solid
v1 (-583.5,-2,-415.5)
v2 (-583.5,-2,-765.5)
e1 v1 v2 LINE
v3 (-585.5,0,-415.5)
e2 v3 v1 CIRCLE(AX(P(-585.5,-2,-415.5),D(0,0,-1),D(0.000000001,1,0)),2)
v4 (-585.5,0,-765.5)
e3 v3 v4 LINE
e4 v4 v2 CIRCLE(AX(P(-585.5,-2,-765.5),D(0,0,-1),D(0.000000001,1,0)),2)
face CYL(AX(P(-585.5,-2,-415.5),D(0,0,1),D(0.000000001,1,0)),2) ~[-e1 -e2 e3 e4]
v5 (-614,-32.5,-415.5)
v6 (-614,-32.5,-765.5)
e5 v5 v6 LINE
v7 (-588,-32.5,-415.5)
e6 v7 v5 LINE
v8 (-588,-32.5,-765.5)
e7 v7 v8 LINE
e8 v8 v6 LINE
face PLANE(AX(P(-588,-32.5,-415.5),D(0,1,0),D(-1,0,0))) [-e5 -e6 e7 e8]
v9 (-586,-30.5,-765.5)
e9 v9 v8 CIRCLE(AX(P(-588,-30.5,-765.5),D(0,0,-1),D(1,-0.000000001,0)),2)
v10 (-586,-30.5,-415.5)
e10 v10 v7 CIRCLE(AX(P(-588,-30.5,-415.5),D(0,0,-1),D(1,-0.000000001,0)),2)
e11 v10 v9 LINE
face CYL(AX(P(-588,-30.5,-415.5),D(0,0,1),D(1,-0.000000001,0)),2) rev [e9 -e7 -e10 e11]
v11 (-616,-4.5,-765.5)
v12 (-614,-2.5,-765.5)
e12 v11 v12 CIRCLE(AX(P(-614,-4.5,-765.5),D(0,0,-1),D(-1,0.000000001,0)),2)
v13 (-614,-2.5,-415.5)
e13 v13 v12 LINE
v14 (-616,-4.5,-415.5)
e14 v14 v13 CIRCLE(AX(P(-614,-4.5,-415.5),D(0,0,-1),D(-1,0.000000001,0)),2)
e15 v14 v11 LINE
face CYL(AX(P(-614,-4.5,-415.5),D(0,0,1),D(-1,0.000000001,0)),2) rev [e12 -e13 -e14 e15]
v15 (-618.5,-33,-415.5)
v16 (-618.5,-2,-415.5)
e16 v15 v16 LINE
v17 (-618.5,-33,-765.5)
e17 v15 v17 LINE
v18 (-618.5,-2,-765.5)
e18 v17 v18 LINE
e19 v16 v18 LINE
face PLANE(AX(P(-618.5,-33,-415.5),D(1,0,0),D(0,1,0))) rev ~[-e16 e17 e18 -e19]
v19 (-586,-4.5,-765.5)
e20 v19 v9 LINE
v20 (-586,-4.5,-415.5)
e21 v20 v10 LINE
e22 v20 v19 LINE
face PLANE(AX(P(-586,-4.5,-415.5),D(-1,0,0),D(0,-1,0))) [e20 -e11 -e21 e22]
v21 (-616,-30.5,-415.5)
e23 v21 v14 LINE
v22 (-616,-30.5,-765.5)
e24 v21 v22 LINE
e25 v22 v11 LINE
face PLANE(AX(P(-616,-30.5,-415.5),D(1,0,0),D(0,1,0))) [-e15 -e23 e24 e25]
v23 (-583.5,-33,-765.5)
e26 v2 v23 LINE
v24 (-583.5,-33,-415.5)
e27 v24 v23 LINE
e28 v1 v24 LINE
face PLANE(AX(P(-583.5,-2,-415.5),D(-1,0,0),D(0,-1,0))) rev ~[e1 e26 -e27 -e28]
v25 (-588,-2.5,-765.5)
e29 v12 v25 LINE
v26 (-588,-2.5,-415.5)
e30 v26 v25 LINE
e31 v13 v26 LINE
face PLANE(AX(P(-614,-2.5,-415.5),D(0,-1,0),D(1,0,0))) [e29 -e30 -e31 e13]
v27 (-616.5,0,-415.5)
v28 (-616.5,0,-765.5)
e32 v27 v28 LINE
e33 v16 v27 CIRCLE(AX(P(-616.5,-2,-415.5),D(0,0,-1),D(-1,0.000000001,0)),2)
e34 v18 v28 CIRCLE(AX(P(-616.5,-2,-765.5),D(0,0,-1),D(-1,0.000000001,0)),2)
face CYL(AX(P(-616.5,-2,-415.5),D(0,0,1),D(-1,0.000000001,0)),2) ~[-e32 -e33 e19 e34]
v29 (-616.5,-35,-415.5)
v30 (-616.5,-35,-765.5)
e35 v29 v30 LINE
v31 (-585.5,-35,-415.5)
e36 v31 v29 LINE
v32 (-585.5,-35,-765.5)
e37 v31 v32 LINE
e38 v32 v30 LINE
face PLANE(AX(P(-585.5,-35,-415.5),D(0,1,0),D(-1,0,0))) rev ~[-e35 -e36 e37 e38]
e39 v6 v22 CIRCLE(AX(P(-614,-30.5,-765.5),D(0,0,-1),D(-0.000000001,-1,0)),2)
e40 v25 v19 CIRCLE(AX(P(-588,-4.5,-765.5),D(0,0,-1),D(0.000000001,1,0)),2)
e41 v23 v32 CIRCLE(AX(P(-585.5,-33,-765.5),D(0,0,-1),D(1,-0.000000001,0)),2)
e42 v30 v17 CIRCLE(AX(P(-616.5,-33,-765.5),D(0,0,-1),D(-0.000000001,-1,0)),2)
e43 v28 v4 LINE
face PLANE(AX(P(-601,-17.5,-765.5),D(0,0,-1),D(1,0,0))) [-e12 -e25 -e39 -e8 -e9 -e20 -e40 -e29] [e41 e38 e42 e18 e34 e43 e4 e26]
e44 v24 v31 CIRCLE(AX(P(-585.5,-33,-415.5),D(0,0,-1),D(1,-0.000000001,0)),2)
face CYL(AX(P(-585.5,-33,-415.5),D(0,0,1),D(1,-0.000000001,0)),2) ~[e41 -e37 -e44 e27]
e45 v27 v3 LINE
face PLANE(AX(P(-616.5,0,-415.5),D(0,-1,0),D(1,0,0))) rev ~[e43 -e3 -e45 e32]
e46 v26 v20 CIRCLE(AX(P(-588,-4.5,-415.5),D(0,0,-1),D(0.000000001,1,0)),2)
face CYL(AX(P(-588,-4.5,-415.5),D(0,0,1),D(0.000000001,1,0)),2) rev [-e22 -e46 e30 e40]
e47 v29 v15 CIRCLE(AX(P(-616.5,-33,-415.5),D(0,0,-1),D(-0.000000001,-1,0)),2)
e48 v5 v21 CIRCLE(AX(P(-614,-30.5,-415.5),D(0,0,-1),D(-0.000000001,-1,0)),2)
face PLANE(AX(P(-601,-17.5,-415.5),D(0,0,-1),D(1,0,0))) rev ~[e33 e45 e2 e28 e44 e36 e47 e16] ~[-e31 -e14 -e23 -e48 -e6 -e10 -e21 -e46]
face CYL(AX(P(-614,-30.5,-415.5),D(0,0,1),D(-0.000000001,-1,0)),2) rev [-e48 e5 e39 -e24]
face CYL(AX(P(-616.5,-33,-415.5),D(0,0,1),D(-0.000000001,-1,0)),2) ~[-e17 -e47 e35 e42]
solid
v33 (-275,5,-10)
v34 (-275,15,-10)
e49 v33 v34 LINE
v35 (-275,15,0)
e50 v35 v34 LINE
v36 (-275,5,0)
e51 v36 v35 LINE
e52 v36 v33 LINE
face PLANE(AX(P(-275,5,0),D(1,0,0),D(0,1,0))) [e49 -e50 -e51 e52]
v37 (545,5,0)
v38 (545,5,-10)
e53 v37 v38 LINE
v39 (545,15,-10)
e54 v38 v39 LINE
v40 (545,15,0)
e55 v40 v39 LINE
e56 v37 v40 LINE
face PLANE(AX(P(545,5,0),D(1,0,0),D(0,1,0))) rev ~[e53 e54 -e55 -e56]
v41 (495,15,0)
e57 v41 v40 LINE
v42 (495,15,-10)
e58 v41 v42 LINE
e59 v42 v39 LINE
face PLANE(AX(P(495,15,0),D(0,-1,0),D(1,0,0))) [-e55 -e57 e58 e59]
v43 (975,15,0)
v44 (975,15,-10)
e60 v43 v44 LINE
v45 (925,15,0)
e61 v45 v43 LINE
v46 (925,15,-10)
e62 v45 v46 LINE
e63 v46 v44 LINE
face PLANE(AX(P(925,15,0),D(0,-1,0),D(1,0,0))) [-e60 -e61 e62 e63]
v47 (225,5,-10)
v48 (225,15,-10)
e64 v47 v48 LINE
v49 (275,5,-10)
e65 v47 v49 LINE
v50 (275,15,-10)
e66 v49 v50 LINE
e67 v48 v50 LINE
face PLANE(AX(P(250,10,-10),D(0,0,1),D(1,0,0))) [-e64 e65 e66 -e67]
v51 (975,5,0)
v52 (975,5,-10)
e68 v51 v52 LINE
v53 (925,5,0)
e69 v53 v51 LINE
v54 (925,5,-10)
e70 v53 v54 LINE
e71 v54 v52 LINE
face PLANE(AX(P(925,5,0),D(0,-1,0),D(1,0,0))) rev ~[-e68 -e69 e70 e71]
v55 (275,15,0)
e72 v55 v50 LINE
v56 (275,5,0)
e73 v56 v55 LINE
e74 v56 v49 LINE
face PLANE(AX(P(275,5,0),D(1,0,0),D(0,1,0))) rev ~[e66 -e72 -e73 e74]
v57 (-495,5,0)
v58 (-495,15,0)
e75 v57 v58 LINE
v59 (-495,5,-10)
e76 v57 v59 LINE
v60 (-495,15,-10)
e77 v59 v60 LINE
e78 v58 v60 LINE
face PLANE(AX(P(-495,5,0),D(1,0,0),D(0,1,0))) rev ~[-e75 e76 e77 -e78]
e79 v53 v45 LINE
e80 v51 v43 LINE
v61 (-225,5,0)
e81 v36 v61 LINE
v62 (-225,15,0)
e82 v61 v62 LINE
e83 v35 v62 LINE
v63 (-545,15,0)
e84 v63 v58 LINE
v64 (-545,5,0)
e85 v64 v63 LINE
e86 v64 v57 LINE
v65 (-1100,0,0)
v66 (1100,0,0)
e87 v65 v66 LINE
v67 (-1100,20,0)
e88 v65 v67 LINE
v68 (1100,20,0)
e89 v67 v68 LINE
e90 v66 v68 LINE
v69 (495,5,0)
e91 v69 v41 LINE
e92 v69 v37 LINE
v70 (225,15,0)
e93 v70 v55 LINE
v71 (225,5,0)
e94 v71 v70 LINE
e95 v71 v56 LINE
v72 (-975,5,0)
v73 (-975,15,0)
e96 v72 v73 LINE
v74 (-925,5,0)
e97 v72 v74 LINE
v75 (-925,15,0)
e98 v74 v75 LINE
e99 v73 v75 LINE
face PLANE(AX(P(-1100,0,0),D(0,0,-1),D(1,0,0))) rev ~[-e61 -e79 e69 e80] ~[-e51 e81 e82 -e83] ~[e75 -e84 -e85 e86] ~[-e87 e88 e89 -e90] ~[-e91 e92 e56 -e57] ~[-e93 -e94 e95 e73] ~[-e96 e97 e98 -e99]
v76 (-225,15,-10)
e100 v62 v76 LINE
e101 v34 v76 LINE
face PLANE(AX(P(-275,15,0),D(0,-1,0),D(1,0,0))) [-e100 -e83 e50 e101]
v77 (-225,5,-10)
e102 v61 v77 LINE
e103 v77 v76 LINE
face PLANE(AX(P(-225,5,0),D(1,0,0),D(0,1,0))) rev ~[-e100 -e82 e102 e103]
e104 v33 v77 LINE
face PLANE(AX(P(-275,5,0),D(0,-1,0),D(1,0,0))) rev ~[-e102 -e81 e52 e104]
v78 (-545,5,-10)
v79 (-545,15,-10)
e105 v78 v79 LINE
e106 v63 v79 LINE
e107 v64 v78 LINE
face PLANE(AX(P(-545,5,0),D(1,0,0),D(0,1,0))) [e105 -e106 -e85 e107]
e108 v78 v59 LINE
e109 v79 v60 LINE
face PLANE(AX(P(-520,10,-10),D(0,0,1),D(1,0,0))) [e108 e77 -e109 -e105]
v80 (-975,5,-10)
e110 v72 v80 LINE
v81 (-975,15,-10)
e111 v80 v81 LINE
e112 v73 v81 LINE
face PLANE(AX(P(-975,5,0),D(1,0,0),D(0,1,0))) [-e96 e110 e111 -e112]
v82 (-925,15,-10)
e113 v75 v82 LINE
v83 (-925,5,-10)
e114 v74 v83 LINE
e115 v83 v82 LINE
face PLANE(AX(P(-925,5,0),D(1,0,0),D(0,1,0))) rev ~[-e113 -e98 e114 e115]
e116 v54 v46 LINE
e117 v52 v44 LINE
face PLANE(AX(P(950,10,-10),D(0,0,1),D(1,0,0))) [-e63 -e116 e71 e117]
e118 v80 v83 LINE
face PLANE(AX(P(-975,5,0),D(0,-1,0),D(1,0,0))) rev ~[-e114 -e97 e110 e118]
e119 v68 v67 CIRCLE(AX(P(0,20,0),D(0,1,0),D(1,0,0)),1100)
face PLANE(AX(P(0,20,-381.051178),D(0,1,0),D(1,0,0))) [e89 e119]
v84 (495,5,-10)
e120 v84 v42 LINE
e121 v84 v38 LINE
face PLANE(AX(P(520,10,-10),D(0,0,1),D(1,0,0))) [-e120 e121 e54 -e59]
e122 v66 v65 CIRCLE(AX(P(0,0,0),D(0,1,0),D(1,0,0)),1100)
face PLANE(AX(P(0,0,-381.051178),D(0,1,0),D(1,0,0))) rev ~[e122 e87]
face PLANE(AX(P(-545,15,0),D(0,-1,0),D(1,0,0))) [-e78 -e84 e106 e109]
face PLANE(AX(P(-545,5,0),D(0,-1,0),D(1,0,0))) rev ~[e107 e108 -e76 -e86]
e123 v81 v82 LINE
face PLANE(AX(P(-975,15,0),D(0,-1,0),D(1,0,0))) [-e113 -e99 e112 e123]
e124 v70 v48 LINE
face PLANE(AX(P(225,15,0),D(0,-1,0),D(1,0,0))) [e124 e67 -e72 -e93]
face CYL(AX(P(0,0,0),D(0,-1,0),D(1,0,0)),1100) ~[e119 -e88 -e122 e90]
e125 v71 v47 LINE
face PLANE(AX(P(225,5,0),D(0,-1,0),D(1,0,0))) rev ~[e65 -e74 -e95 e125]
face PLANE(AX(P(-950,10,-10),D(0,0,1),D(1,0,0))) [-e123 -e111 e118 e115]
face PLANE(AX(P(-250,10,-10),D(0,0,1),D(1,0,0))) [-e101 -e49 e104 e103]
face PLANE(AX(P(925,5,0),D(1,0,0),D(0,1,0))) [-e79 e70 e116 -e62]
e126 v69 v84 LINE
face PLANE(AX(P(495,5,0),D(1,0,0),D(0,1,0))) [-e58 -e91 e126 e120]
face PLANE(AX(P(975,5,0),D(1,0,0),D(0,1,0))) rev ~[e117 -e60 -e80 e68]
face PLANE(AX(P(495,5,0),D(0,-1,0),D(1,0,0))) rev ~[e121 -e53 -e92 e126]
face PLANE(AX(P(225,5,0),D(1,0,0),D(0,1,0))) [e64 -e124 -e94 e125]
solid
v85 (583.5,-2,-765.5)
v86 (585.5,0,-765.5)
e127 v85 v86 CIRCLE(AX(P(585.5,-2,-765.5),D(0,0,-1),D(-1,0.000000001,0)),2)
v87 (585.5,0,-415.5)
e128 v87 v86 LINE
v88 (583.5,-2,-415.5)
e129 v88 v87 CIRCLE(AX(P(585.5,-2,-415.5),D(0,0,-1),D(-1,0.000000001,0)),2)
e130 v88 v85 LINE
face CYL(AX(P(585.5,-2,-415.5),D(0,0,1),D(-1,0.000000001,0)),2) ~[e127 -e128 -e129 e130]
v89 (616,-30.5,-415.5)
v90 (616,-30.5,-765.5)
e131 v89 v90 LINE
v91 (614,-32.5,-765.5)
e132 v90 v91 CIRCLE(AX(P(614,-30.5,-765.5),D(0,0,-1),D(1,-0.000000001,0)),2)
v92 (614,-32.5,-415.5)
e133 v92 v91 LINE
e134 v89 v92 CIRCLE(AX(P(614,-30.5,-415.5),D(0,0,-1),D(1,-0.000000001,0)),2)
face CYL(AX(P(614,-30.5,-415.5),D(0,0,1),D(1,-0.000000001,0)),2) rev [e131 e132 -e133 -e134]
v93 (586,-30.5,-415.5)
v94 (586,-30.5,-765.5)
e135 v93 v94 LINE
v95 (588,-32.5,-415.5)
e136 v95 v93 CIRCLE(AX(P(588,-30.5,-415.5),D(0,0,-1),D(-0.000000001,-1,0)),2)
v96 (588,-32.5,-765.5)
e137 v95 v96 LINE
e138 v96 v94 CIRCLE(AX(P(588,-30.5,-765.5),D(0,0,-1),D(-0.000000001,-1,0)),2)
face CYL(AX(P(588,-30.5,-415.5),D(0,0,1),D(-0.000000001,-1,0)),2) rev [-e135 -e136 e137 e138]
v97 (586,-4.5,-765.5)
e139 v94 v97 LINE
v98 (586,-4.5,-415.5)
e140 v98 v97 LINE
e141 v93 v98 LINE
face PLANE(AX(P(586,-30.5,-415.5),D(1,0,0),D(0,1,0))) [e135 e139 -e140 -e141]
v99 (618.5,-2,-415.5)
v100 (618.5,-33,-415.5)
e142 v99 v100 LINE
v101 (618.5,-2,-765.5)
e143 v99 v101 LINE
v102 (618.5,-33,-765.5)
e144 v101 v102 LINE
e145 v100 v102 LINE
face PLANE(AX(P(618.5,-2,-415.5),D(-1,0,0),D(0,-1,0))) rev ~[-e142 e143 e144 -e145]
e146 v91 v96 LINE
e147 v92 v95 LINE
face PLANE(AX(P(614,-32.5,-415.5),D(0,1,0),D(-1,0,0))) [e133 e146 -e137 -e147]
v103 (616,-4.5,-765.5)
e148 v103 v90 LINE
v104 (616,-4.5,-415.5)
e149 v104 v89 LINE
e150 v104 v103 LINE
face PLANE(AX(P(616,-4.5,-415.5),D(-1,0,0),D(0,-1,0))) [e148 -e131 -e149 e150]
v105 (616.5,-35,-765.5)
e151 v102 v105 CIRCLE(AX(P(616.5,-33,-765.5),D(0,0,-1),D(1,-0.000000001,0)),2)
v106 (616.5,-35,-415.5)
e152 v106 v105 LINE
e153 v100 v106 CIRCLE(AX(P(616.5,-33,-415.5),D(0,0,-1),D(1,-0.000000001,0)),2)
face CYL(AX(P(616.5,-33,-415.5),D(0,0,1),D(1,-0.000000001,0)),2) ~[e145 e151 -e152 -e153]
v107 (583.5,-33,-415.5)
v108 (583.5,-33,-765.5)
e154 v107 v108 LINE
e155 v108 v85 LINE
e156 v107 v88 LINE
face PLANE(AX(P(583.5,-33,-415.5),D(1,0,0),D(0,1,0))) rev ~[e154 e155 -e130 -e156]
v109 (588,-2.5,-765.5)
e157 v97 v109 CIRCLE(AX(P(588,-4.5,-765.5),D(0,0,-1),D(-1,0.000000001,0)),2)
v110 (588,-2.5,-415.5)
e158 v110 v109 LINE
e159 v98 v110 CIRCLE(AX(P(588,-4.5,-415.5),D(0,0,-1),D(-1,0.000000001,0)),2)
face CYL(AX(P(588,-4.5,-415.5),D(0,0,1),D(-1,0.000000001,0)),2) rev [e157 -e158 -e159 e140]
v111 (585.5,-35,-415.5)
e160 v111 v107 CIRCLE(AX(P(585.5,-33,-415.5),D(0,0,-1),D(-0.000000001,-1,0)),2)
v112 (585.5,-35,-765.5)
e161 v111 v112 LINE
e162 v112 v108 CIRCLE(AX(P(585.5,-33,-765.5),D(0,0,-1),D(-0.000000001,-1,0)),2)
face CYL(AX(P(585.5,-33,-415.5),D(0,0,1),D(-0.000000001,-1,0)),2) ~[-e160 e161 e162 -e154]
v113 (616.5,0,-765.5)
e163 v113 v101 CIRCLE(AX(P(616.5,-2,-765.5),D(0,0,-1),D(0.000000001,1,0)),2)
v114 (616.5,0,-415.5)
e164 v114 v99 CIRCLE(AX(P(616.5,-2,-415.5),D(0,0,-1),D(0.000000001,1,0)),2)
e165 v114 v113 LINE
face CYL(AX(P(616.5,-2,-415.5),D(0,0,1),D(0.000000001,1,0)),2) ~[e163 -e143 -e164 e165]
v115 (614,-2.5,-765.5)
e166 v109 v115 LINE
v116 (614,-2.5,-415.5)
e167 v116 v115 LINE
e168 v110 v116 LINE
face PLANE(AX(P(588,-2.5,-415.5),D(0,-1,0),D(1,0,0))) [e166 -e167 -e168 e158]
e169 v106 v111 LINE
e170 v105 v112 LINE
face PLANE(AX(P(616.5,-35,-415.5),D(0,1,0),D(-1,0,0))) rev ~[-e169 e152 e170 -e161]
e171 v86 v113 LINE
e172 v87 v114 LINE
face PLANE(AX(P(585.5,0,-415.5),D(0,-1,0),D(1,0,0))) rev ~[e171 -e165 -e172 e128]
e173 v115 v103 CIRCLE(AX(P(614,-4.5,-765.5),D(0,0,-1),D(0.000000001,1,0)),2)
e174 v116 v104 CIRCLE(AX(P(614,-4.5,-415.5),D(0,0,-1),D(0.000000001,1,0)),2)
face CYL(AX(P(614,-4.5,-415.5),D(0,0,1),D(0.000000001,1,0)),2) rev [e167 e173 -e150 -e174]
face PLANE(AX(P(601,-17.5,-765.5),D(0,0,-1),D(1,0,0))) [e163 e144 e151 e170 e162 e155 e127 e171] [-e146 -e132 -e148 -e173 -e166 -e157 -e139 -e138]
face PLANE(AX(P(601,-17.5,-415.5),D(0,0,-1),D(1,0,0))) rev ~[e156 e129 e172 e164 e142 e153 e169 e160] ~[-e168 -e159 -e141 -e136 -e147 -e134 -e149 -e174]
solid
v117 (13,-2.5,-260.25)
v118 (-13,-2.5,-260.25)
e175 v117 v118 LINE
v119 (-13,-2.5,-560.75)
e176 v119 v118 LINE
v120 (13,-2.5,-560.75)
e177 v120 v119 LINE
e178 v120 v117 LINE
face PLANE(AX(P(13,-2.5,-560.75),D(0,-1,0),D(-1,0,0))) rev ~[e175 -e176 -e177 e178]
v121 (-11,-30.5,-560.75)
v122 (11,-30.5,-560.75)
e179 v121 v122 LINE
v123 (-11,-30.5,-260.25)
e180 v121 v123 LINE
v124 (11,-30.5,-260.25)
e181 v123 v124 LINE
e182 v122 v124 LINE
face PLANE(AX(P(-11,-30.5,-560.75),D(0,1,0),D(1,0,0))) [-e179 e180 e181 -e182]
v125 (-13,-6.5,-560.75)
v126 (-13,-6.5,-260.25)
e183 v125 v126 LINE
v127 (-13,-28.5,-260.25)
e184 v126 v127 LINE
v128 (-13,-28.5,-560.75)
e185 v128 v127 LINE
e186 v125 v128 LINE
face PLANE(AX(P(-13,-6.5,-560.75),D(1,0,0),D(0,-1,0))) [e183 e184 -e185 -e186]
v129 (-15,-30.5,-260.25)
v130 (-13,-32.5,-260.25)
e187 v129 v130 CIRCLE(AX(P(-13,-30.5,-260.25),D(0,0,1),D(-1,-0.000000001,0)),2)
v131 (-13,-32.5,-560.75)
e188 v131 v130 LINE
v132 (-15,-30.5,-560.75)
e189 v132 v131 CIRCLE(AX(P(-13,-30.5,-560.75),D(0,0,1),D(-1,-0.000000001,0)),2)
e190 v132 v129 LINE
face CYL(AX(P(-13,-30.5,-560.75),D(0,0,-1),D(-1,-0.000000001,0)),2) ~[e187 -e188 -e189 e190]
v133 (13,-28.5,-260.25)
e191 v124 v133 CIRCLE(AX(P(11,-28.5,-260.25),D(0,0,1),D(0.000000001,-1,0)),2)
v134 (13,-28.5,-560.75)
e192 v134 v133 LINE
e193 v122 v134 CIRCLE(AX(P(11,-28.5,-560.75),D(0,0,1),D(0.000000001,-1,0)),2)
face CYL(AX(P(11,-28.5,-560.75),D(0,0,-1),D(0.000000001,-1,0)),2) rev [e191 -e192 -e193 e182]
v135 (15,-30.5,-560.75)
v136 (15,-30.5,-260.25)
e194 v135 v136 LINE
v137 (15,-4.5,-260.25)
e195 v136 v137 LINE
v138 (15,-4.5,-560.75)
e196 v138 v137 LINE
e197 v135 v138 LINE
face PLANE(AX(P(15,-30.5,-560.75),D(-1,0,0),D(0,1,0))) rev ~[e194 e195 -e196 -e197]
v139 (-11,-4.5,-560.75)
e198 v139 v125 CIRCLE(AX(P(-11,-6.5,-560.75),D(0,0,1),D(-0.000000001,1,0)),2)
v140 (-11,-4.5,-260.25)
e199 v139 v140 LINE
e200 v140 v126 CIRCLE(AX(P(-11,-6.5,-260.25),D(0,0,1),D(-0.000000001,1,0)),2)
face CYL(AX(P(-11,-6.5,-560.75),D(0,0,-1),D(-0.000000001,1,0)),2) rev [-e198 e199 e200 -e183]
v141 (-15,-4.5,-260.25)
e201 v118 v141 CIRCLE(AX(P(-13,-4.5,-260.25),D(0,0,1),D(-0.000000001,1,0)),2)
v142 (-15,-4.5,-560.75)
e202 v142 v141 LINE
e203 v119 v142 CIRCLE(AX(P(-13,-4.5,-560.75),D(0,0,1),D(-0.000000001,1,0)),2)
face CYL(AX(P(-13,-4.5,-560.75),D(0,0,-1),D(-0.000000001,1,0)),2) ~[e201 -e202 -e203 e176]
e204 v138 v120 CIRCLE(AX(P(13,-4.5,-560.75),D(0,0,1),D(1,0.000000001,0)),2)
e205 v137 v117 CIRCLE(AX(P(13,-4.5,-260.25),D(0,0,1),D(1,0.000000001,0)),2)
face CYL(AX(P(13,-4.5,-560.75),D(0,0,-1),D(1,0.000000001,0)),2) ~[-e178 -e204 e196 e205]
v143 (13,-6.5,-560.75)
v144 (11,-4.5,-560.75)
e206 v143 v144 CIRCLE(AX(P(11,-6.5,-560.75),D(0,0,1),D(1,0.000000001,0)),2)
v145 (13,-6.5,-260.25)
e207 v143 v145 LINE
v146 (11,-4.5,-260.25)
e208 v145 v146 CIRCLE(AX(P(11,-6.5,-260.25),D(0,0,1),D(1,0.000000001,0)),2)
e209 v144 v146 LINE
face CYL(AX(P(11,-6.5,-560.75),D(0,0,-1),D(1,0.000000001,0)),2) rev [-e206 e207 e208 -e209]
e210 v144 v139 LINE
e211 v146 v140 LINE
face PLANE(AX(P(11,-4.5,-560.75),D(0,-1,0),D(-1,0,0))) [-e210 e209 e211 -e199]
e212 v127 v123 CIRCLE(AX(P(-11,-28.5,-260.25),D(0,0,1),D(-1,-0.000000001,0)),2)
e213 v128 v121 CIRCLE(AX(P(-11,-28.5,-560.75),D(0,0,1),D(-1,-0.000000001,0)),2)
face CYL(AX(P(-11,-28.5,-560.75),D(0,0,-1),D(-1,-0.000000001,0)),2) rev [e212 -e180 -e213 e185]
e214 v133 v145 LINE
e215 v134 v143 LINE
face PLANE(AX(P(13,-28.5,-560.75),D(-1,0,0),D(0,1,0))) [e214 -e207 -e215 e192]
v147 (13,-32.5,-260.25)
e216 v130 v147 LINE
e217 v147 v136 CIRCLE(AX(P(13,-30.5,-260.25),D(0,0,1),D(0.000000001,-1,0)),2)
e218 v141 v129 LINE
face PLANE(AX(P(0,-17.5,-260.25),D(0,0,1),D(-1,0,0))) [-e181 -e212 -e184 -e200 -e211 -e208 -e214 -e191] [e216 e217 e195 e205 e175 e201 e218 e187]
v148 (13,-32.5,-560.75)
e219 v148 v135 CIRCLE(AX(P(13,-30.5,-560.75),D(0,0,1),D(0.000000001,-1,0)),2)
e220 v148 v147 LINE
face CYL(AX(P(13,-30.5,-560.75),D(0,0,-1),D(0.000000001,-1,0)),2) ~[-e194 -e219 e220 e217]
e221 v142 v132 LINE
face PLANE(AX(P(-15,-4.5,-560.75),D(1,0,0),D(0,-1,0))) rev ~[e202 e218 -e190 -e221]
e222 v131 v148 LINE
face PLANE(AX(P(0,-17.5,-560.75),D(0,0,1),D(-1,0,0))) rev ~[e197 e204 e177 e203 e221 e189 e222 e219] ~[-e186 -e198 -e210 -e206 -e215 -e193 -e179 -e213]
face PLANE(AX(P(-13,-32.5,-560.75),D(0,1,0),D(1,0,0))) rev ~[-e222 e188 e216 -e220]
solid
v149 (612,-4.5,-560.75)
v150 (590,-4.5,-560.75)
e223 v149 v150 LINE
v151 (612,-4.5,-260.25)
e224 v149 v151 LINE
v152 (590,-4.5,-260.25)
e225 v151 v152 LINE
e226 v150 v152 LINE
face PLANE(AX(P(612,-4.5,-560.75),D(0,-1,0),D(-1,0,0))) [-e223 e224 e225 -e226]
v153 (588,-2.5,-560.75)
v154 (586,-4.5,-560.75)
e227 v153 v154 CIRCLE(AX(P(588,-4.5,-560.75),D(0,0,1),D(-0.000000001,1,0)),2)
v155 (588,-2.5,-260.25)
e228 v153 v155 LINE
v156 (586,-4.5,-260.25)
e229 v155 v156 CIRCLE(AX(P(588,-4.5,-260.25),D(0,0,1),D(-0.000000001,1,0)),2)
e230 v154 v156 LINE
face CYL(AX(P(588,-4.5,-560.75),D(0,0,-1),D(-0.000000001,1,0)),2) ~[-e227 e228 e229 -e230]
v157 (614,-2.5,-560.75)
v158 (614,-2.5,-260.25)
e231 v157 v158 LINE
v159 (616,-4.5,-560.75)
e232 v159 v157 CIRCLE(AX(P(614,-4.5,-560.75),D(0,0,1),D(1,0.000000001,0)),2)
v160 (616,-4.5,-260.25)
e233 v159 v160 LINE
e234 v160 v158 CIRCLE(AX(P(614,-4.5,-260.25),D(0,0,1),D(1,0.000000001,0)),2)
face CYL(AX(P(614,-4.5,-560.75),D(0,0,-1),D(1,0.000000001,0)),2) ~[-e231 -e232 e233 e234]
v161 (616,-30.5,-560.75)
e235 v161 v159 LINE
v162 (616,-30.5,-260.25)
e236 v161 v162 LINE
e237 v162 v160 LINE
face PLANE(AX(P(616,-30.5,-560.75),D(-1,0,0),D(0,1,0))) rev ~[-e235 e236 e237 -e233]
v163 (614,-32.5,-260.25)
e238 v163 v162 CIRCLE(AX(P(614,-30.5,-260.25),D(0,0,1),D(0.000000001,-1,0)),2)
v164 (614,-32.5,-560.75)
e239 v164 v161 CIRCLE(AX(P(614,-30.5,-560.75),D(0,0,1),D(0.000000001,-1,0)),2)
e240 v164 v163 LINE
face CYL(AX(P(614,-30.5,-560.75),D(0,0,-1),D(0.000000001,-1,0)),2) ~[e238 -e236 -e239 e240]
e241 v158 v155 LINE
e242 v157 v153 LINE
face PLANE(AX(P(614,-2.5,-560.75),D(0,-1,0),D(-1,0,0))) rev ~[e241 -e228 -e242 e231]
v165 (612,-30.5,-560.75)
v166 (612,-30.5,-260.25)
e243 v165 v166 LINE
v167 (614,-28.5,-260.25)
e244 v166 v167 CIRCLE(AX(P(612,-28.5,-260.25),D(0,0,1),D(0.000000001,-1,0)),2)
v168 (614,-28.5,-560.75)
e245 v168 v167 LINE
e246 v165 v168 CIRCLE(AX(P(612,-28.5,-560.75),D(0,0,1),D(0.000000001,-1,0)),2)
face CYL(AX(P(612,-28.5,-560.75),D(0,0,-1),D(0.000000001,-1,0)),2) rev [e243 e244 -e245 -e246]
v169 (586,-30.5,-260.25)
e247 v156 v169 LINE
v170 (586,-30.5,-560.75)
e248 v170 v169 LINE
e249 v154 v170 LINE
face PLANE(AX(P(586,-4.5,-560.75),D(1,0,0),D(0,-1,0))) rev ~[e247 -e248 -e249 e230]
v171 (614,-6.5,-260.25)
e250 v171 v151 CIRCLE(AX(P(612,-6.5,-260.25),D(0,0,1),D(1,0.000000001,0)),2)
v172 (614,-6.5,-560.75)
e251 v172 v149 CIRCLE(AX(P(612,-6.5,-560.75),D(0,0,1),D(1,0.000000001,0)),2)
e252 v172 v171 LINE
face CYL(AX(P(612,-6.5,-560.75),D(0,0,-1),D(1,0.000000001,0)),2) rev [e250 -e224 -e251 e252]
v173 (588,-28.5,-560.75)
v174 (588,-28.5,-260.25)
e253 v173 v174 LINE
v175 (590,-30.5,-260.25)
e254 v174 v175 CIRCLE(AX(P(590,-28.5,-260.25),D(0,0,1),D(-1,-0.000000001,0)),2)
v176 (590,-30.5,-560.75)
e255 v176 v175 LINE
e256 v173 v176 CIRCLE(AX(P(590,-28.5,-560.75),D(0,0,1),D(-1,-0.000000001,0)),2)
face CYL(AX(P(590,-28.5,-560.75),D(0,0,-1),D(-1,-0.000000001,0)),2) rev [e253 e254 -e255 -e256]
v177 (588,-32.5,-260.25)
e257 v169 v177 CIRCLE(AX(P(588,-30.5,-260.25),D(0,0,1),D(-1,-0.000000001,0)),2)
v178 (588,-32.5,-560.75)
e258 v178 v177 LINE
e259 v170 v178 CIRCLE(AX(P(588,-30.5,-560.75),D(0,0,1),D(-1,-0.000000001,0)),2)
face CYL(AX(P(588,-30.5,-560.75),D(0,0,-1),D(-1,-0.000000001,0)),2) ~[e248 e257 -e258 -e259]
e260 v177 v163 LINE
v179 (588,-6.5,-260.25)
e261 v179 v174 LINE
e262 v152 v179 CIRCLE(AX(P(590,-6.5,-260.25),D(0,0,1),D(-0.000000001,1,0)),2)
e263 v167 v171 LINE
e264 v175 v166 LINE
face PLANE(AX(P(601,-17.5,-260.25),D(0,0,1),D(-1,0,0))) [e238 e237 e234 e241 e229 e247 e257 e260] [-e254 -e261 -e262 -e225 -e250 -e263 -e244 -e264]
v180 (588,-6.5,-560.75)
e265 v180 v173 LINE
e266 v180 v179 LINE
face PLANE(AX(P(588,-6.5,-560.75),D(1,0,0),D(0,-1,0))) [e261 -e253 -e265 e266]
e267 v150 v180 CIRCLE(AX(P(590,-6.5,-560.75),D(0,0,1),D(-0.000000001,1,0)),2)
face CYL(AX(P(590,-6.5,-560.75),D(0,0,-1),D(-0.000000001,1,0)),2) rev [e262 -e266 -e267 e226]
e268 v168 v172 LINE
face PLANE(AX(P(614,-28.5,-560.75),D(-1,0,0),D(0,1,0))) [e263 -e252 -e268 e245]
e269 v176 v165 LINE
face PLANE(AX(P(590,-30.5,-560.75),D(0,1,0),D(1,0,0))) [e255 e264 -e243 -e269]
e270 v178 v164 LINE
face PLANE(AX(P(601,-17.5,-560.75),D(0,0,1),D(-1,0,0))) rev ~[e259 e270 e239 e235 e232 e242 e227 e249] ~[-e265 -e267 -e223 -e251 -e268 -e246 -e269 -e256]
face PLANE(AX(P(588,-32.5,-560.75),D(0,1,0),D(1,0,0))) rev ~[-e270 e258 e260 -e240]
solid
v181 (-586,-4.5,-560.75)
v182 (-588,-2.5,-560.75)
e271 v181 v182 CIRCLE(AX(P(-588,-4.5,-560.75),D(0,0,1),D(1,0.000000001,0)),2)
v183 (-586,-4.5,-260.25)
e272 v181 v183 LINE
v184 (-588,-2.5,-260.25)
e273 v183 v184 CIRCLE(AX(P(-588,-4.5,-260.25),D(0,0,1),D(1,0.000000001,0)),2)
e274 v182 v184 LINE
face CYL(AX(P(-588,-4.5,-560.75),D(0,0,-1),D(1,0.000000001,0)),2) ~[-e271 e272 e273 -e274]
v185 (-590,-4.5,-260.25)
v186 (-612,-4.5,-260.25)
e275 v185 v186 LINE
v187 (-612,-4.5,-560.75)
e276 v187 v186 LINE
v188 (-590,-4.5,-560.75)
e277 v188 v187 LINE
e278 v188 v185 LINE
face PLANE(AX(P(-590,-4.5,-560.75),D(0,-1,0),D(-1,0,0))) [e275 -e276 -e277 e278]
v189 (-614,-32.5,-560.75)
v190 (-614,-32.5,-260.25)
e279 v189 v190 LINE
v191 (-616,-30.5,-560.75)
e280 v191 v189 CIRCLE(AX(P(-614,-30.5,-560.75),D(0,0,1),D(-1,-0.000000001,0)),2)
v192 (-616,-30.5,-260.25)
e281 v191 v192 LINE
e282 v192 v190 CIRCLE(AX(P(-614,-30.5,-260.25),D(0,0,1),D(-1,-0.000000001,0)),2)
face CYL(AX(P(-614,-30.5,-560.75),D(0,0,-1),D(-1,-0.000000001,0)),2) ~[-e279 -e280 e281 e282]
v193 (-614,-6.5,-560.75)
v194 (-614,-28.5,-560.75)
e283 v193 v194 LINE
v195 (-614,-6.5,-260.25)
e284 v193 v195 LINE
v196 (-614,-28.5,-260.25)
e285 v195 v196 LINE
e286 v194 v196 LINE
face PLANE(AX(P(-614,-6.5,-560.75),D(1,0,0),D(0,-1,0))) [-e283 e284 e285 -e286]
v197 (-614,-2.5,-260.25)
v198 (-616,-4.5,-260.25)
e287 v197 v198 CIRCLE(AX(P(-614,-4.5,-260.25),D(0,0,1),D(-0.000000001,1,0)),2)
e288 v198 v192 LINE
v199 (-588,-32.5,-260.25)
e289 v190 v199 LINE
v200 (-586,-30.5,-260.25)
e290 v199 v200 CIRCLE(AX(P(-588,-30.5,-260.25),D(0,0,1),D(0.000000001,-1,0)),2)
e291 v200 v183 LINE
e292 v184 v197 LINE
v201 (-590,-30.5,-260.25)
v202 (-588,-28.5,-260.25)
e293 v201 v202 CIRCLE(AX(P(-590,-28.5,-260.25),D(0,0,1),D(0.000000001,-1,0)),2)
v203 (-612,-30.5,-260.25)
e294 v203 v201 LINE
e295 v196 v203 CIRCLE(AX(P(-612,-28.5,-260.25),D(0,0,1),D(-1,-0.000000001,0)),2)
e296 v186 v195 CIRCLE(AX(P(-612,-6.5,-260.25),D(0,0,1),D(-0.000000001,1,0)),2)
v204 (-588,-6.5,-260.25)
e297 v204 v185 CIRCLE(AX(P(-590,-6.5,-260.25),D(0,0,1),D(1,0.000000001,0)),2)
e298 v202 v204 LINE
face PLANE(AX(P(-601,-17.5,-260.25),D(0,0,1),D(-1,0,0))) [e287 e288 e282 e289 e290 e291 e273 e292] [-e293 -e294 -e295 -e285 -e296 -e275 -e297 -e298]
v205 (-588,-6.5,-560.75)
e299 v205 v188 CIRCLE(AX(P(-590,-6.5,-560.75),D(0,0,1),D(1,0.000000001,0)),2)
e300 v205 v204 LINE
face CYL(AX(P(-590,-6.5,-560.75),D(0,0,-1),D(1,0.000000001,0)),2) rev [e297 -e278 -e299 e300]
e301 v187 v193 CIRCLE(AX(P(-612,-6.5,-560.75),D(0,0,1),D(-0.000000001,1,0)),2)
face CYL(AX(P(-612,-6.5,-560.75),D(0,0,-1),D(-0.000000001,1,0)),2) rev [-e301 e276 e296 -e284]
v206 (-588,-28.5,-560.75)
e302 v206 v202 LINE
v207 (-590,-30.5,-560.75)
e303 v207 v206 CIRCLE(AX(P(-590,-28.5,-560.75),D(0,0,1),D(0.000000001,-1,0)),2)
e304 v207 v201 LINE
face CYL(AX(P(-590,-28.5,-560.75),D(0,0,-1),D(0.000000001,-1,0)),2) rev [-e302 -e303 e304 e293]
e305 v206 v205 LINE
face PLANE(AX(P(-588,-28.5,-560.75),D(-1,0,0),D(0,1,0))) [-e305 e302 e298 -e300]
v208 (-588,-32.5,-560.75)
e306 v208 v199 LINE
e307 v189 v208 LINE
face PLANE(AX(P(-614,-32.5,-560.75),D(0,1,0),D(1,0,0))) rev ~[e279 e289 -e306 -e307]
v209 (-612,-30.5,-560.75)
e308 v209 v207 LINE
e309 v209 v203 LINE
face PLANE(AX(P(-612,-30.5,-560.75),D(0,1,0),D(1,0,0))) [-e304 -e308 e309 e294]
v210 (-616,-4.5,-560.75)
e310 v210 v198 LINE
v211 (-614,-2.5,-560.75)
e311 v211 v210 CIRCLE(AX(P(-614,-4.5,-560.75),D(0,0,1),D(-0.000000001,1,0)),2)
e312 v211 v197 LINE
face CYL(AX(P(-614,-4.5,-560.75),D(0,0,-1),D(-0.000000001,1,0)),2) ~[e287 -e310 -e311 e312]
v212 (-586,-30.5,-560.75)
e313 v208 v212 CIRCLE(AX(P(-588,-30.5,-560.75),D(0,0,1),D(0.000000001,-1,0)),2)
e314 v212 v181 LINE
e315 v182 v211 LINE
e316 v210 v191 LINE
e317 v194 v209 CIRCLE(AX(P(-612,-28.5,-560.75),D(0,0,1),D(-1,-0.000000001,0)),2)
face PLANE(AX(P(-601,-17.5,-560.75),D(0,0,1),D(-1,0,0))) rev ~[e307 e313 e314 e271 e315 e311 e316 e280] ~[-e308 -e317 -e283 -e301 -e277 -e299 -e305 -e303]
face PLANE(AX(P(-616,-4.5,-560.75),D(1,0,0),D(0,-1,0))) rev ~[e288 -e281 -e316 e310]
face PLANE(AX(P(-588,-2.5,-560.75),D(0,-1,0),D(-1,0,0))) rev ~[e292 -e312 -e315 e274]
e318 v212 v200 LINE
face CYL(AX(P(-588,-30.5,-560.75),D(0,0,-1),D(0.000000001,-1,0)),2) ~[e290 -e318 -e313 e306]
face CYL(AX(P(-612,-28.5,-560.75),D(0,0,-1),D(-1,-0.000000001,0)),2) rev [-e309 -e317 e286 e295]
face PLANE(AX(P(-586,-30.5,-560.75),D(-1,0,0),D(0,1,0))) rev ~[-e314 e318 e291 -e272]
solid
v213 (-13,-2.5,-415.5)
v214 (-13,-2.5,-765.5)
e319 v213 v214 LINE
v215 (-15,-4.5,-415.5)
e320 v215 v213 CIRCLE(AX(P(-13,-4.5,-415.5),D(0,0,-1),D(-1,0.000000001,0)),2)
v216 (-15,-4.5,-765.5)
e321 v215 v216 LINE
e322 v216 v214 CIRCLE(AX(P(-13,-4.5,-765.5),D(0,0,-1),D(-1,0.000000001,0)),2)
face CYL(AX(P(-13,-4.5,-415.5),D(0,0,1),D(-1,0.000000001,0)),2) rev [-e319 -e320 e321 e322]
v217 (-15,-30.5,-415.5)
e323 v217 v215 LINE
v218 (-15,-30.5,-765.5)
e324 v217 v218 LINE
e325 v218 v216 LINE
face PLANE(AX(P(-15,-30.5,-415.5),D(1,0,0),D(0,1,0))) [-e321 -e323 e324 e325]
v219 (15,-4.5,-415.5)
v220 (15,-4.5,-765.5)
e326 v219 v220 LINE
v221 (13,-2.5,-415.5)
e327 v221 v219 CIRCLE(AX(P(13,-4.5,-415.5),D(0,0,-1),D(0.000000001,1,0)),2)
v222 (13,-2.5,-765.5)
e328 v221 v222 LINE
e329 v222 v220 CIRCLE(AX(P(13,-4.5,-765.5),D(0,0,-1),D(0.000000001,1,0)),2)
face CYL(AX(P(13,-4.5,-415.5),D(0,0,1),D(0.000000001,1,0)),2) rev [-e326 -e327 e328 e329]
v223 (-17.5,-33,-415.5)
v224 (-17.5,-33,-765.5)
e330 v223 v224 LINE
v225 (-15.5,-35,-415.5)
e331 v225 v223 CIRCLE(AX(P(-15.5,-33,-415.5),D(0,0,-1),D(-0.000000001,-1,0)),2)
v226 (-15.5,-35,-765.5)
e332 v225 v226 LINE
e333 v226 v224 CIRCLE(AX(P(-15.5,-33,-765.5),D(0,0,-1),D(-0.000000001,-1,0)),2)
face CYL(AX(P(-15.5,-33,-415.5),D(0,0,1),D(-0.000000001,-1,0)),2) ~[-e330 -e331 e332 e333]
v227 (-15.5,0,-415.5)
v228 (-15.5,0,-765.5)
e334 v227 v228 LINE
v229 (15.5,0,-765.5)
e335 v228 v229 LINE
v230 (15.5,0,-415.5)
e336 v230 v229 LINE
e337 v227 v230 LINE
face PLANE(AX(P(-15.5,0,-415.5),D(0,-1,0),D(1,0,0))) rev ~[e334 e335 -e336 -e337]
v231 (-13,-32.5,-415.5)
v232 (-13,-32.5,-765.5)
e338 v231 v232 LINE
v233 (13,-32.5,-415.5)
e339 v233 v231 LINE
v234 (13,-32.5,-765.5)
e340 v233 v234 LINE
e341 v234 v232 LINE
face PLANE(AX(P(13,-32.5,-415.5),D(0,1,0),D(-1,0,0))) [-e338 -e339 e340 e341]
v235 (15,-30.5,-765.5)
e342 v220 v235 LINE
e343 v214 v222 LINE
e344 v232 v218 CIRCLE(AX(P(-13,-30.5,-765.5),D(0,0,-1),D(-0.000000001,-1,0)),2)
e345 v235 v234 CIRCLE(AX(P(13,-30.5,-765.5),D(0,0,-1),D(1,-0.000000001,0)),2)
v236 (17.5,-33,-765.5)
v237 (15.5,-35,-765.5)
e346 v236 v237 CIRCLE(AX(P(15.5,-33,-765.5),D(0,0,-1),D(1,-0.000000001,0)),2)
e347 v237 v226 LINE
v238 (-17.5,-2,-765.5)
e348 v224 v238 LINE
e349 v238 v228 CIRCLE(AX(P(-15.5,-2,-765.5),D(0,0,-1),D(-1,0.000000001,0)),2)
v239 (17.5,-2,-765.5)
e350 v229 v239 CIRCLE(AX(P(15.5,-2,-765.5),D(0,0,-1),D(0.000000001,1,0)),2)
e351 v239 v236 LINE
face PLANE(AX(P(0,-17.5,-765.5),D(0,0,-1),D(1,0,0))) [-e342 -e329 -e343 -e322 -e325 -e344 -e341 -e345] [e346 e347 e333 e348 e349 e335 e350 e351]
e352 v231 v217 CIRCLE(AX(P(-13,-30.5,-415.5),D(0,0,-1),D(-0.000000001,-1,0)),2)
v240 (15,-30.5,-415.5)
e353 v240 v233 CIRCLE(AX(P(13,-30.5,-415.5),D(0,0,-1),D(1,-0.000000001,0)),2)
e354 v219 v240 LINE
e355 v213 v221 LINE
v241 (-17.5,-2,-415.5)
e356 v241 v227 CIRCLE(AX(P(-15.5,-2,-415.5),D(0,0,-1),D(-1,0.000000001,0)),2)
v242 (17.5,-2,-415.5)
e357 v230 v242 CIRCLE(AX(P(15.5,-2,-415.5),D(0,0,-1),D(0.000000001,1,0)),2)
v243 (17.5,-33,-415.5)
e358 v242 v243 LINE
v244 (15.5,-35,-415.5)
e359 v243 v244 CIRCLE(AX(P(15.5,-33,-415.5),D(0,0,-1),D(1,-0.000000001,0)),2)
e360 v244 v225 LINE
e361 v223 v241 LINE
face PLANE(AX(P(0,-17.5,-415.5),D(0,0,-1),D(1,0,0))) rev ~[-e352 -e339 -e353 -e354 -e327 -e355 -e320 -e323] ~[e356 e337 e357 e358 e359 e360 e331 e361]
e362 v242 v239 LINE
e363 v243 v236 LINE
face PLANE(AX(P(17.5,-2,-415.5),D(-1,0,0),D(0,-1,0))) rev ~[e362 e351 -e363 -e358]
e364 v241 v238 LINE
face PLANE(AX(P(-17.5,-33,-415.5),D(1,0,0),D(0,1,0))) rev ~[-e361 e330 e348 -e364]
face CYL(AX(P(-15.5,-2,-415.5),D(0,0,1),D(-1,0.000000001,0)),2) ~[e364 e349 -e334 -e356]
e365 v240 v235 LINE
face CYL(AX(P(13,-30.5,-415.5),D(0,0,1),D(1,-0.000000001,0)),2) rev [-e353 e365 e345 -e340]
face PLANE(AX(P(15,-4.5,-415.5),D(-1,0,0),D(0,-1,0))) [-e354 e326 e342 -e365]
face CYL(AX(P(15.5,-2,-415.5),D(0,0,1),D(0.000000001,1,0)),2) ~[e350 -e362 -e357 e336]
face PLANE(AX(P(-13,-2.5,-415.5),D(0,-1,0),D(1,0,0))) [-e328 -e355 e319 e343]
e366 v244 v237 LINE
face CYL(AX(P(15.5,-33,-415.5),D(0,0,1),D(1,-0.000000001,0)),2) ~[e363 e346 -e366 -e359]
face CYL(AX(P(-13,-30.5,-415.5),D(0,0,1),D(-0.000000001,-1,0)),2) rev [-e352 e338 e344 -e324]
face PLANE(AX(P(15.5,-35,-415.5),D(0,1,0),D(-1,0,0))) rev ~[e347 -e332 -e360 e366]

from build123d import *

# Parameters (mm, degrees)
BOSS_EXTRU_1_DEPTH                 = 20
CUSTOM_TUBE_CARRE_30_2_1_DEPTH     = 300.5
CUSTOM_TUBE_CARRE_30_2_1_2_DEPTH   = 300.5
CUSTOM_TUBE_CARRE_30_2_1_3_DEPTH   = 300.5
CUSTOM_TUBE_CARRE_35_2_5_1_DEPTH   = 350
CUSTOM_TUBE_CARRE_35_2_5_1_2_DEPTH = 350
CUSTOM_TUBE_CARRE_35_2_5_1_3_DEPTH = 350
ESQUISSE113_W                      = 50
ESQUISSE113_H                      = 10
ENL_V_MAT_EXTRU_1_DEPTH            = 10


with BuildPart() as part:
    # Esquisse1 → Boss.-Extru.1 (new body)
    with BuildSketch(Plane(origin=(0, 0, 0), x_dir=(1, 0, 0), z_dir=(0, 1, 0))):
        with BuildLine():
            Line((-1100, 0), (1100, 0))
            ThreePointArc((1100, 0), (0, 1100), (-1100, 0))
        make_face()
    extrude(amount=BOSS_EXTRU_1_DEPTH)

    # Esquisse113 → Enlèv. mat.-Extru.1 (cut)
    with BuildSketch(Plane.XY):
        with Locations((-950, 10)):
            Rectangle(ESQUISSE113_W, ESQUISSE113_H)
        with Locations((-520, 10)):
            Rectangle(ESQUISSE113_W, ESQUISSE113_H)
        with Locations((-250, 10)):
            Rectangle(ESQUISSE113_W, ESQUISSE113_H)
        with Locations((250, 10)):
            Rectangle(ESQUISSE113_W, ESQUISSE113_H)
        with Locations((520, 10)):
            Rectangle(ESQUISSE113_W, ESQUISSE113_H)
        with Locations((950, 10)):
            Rectangle(ESQUISSE113_W, ESQUISSE113_H)
    extrude(amount=-ENL_V_MAT_EXTRU_1_DEPTH, mode=Mode.SUBTRACT)


with BuildPart() as body_2:
    # Esquisse17 → Custom TUBE-CARRE-30-2(1) (new body)
    with BuildSketch(Plane(origin=(-601, -17.5, -560.75), x_dir=(-1, 0, 0), z_dir=(0, 0, 1))):
        with BuildLine():
            Line((-13, -15), (13, -15))
            ThreePointArc((13, -15), (14.414213562, -14.414213562), (15, -13))
            Line((15, -13), (15, 13))
            ThreePointArc((15, 13), (14.414213562, 14.414213562), (13, 15))
            Line((13, 15), (-13, 15))
            ThreePointArc((-13, 15), (-14.414213562, 14.414213562), (-15, 13))
            Line((-15, 13), (-15, -13))
            ThreePointArc((-15, -13), (-14.414213562, -14.414213562), (-13, -15))
        make_face()
        with BuildLine():
            Line((-11, -13), (11, -13))
            ThreePointArc((11, -13), (12.414213562, -12.414213562), (13, -11))
            Line((13, -11), (13, 11))
            ThreePointArc((13, 11), (12.414213562, 12.414213562), (11, 13))
            Line((11, 13), (-11, 13))
            ThreePointArc((-11, 13), (-12.414213562, 12.414213562), (-13, 11))
            Line((-13, 11), (-13, -11))
            ThreePointArc((-13, -11), (-12.414213562, -12.414213562), (-11, -13))
        make_face(mode=Mode.SUBTRACT)
    extrude(amount=CUSTOM_TUBE_CARRE_30_2_1_DEPTH)


with BuildPart() as body_3:
    # Esquisse17 on segment 2 (carried to segment 2) → Custom TUBE-CARRE-30-2_1 2 (new body)
    with BuildSketch(Plane(origin=(0, -17.5, -560.75), x_dir=(-1, 0, 0), z_dir=(0, 0, 1))):
        with BuildLine():
            Line((-13, -15), (13, -15))
            ThreePointArc((13, -15), (14.414213562, -14.414213562), (15, -13))
            Line((15, -13), (15, 13))
            ThreePointArc((15, 13), (14.414213562, 14.414213562), (13, 15))
            Line((13, 15), (-13, 15))
            ThreePointArc((-13, 15), (-14.414213562, 14.414213562), (-15, 13))
            Line((-15, 13), (-15, -13))
            ThreePointArc((-15, -13), (-14.414213562, -14.414213562), (-13, -15))
        make_face()
        with BuildLine():
            Line((-11, -13), (11, -13))
            ThreePointArc((11, -13), (12.414213562, -12.414213562), (13, -11))
            Line((13, -11), (13, 11))
            ThreePointArc((13, 11), (12.414213562, 12.414213562), (11, 13))
            Line((11, 13), (-11, 13))
            ThreePointArc((-11, 13), (-12.414213562, 12.414213562), (-13, 11))
            Line((-13, 11), (-13, -11))
            ThreePointArc((-13, -11), (-12.414213562, -12.414213562), (-11, -13))
        make_face(mode=Mode.SUBTRACT)
    extrude(amount=CUSTOM_TUBE_CARRE_30_2_1_2_DEPTH)


with BuildPart() as body_4:
    # Esquisse17 on segment 3 (carried to segment 3) → Custom TUBE-CARRE-30-2_1 3 (new body)
    with BuildSketch(Plane(origin=(601, -17.5, -560.75), x_dir=(-1, 0, 0), z_dir=(0, 0, 1))):
        with BuildLine():
            Line((-13, -15), (13, -15))
            ThreePointArc((13, -15), (14.414213562, -14.414213562), (15, -13))
            Line((15, -13), (15, 13))
            ThreePointArc((15, 13), (14.414213562, 14.414213562), (13, 15))
            Line((13, 15), (-13, 15))
            ThreePointArc((-13, 15), (-14.414213562, 14.414213562), (-15, 13))
            Line((-15, 13), (-15, -13))
            ThreePointArc((-15, -13), (-14.414213562, -14.414213562), (-13, -15))
        make_face()
        with BuildLine():
            Line((-11, -13), (11, -13))
            ThreePointArc((11, -13), (12.414213562, -12.414213562), (13, -11))
            Line((13, -11), (13, 11))
            ThreePointArc((13, 11), (12.414213562, 12.414213562), (11, 13))
            Line((11, 13), (-11, 13))
            ThreePointArc((-11, 13), (-12.414213562, 12.414213562), (-13, 11))
            Line((-13, 11), (-13, -11))
            ThreePointArc((-13, -11), (-12.414213562, -12.414213562), (-11, -13))
        make_face(mode=Mode.SUBTRACT)
    extrude(amount=CUSTOM_TUBE_CARRE_30_2_1_3_DEPTH)


with BuildPart() as body_5:
    # Esquisse111 → Custom TUBE-CARRE-35-2.5(1) (new body)
    with BuildSketch(Plane(origin=(-601, -17.5, -415.5), x_dir=(1, 0, 0), z_dir=(0, 0, -1))):
        with BuildLine():
            Line((-15.5, -17.5), (15.5, -17.5))
            ThreePointArc((15.5, -17.5), (16.914213562, -16.914213562), (17.5, -15.5))
            Line((17.5, -15.5), (17.5, 15.5))
            ThreePointArc((17.5, 15.5), (16.914213562, 16.914213562), (15.5, 17.5))
            Line((15.5, 17.5), (-15.5, 17.5))
            ThreePointArc((-15.5, 17.5), (-16.914213562, 16.914213562), (-17.5, 15.5))
            Line((-17.5, 15.5), (-17.5, -15.5))
            ThreePointArc((-17.5, -15.5), (-16.914213562, -16.914213562), (-15.5, -17.5))
        make_face()
        with BuildLine():
            Line((-13, -15), (13, -15))
            ThreePointArc((13, -15), (14.414213562, -14.414213562), (15, -13))
            Line((15, -13), (15, 13))
            ThreePointArc((15, 13), (14.414213562, 14.414213562), (13, 15))
            Line((13, 15), (-13, 15))
            ThreePointArc((-13, 15), (-14.414213562, 14.414213562), (-15, 13))
            Line((-15, 13), (-15, -13))
            ThreePointArc((-15, -13), (-14.414213562, -14.414213562), (-13, -15))
        make_face(mode=Mode.SUBTRACT)
    extrude(amount=CUSTOM_TUBE_CARRE_35_2_5_1_DEPTH)


with BuildPart() as body_6:
    # Esquisse111 on segment 2 (carried to segment 2) → Custom TUBE-CARRE-35-2.5_1 2 (new body)
    with BuildSketch(Plane(origin=(0, -17.5, -415.5), x_dir=(1, 0, 0), z_dir=(0, 0, -1))):
        with BuildLine():
            Line((-15.5, -17.5), (15.5, -17.5))
            ThreePointArc((15.5, -17.5), (16.914213562, -16.914213562), (17.5, -15.5))
            Line((17.5, -15.5), (17.5, 15.5))
            ThreePointArc((17.5, 15.5), (16.914213562, 16.914213562), (15.5, 17.5))
            Line((15.5, 17.5), (-15.5, 17.5))
            ThreePointArc((-15.5, 17.5), (-16.914213562, 16.914213562), (-17.5, 15.5))
            Line((-17.5, 15.5), (-17.5, -15.5))
            ThreePointArc((-17.5, -15.5), (-16.914213562, -16.914213562), (-15.5, -17.5))
        make_face()
        with BuildLine():
            Line((-13, -15), (13, -15))
            ThreePointArc((13, -15), (14.414213562, -14.414213562), (15, -13))
            Line((15, -13), (15, 13))
            ThreePointArc((15, 13), (14.414213562, 14.414213562), (13, 15))
            Line((13, 15), (-13, 15))
            ThreePointArc((-13, 15), (-14.414213562, 14.414213562), (-15, 13))
            Line((-15, 13), (-15, -13))
            ThreePointArc((-15, -13), (-14.414213562, -14.414213562), (-13, -15))
        make_face(mode=Mode.SUBTRACT)
    extrude(amount=CUSTOM_TUBE_CARRE_35_2_5_1_2_DEPTH)


with BuildPart() as body_7:
    # Esquisse111 on segment 3 (carried to segment 3) → Custom TUBE-CARRE-35-2.5_1 3 (new body)
    with BuildSketch(Plane(origin=(601, -17.5, -415.5), x_dir=(1, 0, 0), z_dir=(0, 0, -1))):
        with BuildLine():
            Line((-15.5, -17.5), (15.5, -17.5))
            ThreePointArc((15.5, -17.5), (16.914213562, -16.914213562), (17.5, -15.5))
            Line((17.5, -15.5), (17.5, 15.5))
            ThreePointArc((17.5, 15.5), (16.914213562, 16.914213562), (15.5, 17.5))
            Line((15.5, 17.5), (-15.5, 17.5))
            ThreePointArc((-15.5, 17.5), (-16.914213562, 16.914213562), (-17.5, 15.5))
            Line((-17.5, 15.5), (-17.5, -15.5))
            ThreePointArc((-17.5, -15.5), (-16.914213562, -16.914213562), (-15.5, -17.5))
        make_face()
        with BuildLine():
            Line((-13, -15), (13, -15))
            ThreePointArc((13, -15), (14.414213562, -14.414213562), (15, -13))
            Line((15, -13), (15, 13))
            ThreePointArc((15, 13), (14.414213562, 14.414213562), (13, 15))
            Line((13, 15), (-13, 15))
            ThreePointArc((-13, 15), (-14.414213562, 14.414213562), (-15, 13))
            Line((-15, 13), (-15, -13))
            ThreePointArc((-15, -13), (-14.414213562, -14.414213562), (-13, -15))
        make_face(mode=Mode.SUBTRACT)
    extrude(amount=CUSTOM_TUBE_CARRE_35_2_5_1_3_DEPTH)


solid = Compound([part.part, body_2.part, body_3.part, body_4.part, body_5.part, body_6.part, body_7.part])
